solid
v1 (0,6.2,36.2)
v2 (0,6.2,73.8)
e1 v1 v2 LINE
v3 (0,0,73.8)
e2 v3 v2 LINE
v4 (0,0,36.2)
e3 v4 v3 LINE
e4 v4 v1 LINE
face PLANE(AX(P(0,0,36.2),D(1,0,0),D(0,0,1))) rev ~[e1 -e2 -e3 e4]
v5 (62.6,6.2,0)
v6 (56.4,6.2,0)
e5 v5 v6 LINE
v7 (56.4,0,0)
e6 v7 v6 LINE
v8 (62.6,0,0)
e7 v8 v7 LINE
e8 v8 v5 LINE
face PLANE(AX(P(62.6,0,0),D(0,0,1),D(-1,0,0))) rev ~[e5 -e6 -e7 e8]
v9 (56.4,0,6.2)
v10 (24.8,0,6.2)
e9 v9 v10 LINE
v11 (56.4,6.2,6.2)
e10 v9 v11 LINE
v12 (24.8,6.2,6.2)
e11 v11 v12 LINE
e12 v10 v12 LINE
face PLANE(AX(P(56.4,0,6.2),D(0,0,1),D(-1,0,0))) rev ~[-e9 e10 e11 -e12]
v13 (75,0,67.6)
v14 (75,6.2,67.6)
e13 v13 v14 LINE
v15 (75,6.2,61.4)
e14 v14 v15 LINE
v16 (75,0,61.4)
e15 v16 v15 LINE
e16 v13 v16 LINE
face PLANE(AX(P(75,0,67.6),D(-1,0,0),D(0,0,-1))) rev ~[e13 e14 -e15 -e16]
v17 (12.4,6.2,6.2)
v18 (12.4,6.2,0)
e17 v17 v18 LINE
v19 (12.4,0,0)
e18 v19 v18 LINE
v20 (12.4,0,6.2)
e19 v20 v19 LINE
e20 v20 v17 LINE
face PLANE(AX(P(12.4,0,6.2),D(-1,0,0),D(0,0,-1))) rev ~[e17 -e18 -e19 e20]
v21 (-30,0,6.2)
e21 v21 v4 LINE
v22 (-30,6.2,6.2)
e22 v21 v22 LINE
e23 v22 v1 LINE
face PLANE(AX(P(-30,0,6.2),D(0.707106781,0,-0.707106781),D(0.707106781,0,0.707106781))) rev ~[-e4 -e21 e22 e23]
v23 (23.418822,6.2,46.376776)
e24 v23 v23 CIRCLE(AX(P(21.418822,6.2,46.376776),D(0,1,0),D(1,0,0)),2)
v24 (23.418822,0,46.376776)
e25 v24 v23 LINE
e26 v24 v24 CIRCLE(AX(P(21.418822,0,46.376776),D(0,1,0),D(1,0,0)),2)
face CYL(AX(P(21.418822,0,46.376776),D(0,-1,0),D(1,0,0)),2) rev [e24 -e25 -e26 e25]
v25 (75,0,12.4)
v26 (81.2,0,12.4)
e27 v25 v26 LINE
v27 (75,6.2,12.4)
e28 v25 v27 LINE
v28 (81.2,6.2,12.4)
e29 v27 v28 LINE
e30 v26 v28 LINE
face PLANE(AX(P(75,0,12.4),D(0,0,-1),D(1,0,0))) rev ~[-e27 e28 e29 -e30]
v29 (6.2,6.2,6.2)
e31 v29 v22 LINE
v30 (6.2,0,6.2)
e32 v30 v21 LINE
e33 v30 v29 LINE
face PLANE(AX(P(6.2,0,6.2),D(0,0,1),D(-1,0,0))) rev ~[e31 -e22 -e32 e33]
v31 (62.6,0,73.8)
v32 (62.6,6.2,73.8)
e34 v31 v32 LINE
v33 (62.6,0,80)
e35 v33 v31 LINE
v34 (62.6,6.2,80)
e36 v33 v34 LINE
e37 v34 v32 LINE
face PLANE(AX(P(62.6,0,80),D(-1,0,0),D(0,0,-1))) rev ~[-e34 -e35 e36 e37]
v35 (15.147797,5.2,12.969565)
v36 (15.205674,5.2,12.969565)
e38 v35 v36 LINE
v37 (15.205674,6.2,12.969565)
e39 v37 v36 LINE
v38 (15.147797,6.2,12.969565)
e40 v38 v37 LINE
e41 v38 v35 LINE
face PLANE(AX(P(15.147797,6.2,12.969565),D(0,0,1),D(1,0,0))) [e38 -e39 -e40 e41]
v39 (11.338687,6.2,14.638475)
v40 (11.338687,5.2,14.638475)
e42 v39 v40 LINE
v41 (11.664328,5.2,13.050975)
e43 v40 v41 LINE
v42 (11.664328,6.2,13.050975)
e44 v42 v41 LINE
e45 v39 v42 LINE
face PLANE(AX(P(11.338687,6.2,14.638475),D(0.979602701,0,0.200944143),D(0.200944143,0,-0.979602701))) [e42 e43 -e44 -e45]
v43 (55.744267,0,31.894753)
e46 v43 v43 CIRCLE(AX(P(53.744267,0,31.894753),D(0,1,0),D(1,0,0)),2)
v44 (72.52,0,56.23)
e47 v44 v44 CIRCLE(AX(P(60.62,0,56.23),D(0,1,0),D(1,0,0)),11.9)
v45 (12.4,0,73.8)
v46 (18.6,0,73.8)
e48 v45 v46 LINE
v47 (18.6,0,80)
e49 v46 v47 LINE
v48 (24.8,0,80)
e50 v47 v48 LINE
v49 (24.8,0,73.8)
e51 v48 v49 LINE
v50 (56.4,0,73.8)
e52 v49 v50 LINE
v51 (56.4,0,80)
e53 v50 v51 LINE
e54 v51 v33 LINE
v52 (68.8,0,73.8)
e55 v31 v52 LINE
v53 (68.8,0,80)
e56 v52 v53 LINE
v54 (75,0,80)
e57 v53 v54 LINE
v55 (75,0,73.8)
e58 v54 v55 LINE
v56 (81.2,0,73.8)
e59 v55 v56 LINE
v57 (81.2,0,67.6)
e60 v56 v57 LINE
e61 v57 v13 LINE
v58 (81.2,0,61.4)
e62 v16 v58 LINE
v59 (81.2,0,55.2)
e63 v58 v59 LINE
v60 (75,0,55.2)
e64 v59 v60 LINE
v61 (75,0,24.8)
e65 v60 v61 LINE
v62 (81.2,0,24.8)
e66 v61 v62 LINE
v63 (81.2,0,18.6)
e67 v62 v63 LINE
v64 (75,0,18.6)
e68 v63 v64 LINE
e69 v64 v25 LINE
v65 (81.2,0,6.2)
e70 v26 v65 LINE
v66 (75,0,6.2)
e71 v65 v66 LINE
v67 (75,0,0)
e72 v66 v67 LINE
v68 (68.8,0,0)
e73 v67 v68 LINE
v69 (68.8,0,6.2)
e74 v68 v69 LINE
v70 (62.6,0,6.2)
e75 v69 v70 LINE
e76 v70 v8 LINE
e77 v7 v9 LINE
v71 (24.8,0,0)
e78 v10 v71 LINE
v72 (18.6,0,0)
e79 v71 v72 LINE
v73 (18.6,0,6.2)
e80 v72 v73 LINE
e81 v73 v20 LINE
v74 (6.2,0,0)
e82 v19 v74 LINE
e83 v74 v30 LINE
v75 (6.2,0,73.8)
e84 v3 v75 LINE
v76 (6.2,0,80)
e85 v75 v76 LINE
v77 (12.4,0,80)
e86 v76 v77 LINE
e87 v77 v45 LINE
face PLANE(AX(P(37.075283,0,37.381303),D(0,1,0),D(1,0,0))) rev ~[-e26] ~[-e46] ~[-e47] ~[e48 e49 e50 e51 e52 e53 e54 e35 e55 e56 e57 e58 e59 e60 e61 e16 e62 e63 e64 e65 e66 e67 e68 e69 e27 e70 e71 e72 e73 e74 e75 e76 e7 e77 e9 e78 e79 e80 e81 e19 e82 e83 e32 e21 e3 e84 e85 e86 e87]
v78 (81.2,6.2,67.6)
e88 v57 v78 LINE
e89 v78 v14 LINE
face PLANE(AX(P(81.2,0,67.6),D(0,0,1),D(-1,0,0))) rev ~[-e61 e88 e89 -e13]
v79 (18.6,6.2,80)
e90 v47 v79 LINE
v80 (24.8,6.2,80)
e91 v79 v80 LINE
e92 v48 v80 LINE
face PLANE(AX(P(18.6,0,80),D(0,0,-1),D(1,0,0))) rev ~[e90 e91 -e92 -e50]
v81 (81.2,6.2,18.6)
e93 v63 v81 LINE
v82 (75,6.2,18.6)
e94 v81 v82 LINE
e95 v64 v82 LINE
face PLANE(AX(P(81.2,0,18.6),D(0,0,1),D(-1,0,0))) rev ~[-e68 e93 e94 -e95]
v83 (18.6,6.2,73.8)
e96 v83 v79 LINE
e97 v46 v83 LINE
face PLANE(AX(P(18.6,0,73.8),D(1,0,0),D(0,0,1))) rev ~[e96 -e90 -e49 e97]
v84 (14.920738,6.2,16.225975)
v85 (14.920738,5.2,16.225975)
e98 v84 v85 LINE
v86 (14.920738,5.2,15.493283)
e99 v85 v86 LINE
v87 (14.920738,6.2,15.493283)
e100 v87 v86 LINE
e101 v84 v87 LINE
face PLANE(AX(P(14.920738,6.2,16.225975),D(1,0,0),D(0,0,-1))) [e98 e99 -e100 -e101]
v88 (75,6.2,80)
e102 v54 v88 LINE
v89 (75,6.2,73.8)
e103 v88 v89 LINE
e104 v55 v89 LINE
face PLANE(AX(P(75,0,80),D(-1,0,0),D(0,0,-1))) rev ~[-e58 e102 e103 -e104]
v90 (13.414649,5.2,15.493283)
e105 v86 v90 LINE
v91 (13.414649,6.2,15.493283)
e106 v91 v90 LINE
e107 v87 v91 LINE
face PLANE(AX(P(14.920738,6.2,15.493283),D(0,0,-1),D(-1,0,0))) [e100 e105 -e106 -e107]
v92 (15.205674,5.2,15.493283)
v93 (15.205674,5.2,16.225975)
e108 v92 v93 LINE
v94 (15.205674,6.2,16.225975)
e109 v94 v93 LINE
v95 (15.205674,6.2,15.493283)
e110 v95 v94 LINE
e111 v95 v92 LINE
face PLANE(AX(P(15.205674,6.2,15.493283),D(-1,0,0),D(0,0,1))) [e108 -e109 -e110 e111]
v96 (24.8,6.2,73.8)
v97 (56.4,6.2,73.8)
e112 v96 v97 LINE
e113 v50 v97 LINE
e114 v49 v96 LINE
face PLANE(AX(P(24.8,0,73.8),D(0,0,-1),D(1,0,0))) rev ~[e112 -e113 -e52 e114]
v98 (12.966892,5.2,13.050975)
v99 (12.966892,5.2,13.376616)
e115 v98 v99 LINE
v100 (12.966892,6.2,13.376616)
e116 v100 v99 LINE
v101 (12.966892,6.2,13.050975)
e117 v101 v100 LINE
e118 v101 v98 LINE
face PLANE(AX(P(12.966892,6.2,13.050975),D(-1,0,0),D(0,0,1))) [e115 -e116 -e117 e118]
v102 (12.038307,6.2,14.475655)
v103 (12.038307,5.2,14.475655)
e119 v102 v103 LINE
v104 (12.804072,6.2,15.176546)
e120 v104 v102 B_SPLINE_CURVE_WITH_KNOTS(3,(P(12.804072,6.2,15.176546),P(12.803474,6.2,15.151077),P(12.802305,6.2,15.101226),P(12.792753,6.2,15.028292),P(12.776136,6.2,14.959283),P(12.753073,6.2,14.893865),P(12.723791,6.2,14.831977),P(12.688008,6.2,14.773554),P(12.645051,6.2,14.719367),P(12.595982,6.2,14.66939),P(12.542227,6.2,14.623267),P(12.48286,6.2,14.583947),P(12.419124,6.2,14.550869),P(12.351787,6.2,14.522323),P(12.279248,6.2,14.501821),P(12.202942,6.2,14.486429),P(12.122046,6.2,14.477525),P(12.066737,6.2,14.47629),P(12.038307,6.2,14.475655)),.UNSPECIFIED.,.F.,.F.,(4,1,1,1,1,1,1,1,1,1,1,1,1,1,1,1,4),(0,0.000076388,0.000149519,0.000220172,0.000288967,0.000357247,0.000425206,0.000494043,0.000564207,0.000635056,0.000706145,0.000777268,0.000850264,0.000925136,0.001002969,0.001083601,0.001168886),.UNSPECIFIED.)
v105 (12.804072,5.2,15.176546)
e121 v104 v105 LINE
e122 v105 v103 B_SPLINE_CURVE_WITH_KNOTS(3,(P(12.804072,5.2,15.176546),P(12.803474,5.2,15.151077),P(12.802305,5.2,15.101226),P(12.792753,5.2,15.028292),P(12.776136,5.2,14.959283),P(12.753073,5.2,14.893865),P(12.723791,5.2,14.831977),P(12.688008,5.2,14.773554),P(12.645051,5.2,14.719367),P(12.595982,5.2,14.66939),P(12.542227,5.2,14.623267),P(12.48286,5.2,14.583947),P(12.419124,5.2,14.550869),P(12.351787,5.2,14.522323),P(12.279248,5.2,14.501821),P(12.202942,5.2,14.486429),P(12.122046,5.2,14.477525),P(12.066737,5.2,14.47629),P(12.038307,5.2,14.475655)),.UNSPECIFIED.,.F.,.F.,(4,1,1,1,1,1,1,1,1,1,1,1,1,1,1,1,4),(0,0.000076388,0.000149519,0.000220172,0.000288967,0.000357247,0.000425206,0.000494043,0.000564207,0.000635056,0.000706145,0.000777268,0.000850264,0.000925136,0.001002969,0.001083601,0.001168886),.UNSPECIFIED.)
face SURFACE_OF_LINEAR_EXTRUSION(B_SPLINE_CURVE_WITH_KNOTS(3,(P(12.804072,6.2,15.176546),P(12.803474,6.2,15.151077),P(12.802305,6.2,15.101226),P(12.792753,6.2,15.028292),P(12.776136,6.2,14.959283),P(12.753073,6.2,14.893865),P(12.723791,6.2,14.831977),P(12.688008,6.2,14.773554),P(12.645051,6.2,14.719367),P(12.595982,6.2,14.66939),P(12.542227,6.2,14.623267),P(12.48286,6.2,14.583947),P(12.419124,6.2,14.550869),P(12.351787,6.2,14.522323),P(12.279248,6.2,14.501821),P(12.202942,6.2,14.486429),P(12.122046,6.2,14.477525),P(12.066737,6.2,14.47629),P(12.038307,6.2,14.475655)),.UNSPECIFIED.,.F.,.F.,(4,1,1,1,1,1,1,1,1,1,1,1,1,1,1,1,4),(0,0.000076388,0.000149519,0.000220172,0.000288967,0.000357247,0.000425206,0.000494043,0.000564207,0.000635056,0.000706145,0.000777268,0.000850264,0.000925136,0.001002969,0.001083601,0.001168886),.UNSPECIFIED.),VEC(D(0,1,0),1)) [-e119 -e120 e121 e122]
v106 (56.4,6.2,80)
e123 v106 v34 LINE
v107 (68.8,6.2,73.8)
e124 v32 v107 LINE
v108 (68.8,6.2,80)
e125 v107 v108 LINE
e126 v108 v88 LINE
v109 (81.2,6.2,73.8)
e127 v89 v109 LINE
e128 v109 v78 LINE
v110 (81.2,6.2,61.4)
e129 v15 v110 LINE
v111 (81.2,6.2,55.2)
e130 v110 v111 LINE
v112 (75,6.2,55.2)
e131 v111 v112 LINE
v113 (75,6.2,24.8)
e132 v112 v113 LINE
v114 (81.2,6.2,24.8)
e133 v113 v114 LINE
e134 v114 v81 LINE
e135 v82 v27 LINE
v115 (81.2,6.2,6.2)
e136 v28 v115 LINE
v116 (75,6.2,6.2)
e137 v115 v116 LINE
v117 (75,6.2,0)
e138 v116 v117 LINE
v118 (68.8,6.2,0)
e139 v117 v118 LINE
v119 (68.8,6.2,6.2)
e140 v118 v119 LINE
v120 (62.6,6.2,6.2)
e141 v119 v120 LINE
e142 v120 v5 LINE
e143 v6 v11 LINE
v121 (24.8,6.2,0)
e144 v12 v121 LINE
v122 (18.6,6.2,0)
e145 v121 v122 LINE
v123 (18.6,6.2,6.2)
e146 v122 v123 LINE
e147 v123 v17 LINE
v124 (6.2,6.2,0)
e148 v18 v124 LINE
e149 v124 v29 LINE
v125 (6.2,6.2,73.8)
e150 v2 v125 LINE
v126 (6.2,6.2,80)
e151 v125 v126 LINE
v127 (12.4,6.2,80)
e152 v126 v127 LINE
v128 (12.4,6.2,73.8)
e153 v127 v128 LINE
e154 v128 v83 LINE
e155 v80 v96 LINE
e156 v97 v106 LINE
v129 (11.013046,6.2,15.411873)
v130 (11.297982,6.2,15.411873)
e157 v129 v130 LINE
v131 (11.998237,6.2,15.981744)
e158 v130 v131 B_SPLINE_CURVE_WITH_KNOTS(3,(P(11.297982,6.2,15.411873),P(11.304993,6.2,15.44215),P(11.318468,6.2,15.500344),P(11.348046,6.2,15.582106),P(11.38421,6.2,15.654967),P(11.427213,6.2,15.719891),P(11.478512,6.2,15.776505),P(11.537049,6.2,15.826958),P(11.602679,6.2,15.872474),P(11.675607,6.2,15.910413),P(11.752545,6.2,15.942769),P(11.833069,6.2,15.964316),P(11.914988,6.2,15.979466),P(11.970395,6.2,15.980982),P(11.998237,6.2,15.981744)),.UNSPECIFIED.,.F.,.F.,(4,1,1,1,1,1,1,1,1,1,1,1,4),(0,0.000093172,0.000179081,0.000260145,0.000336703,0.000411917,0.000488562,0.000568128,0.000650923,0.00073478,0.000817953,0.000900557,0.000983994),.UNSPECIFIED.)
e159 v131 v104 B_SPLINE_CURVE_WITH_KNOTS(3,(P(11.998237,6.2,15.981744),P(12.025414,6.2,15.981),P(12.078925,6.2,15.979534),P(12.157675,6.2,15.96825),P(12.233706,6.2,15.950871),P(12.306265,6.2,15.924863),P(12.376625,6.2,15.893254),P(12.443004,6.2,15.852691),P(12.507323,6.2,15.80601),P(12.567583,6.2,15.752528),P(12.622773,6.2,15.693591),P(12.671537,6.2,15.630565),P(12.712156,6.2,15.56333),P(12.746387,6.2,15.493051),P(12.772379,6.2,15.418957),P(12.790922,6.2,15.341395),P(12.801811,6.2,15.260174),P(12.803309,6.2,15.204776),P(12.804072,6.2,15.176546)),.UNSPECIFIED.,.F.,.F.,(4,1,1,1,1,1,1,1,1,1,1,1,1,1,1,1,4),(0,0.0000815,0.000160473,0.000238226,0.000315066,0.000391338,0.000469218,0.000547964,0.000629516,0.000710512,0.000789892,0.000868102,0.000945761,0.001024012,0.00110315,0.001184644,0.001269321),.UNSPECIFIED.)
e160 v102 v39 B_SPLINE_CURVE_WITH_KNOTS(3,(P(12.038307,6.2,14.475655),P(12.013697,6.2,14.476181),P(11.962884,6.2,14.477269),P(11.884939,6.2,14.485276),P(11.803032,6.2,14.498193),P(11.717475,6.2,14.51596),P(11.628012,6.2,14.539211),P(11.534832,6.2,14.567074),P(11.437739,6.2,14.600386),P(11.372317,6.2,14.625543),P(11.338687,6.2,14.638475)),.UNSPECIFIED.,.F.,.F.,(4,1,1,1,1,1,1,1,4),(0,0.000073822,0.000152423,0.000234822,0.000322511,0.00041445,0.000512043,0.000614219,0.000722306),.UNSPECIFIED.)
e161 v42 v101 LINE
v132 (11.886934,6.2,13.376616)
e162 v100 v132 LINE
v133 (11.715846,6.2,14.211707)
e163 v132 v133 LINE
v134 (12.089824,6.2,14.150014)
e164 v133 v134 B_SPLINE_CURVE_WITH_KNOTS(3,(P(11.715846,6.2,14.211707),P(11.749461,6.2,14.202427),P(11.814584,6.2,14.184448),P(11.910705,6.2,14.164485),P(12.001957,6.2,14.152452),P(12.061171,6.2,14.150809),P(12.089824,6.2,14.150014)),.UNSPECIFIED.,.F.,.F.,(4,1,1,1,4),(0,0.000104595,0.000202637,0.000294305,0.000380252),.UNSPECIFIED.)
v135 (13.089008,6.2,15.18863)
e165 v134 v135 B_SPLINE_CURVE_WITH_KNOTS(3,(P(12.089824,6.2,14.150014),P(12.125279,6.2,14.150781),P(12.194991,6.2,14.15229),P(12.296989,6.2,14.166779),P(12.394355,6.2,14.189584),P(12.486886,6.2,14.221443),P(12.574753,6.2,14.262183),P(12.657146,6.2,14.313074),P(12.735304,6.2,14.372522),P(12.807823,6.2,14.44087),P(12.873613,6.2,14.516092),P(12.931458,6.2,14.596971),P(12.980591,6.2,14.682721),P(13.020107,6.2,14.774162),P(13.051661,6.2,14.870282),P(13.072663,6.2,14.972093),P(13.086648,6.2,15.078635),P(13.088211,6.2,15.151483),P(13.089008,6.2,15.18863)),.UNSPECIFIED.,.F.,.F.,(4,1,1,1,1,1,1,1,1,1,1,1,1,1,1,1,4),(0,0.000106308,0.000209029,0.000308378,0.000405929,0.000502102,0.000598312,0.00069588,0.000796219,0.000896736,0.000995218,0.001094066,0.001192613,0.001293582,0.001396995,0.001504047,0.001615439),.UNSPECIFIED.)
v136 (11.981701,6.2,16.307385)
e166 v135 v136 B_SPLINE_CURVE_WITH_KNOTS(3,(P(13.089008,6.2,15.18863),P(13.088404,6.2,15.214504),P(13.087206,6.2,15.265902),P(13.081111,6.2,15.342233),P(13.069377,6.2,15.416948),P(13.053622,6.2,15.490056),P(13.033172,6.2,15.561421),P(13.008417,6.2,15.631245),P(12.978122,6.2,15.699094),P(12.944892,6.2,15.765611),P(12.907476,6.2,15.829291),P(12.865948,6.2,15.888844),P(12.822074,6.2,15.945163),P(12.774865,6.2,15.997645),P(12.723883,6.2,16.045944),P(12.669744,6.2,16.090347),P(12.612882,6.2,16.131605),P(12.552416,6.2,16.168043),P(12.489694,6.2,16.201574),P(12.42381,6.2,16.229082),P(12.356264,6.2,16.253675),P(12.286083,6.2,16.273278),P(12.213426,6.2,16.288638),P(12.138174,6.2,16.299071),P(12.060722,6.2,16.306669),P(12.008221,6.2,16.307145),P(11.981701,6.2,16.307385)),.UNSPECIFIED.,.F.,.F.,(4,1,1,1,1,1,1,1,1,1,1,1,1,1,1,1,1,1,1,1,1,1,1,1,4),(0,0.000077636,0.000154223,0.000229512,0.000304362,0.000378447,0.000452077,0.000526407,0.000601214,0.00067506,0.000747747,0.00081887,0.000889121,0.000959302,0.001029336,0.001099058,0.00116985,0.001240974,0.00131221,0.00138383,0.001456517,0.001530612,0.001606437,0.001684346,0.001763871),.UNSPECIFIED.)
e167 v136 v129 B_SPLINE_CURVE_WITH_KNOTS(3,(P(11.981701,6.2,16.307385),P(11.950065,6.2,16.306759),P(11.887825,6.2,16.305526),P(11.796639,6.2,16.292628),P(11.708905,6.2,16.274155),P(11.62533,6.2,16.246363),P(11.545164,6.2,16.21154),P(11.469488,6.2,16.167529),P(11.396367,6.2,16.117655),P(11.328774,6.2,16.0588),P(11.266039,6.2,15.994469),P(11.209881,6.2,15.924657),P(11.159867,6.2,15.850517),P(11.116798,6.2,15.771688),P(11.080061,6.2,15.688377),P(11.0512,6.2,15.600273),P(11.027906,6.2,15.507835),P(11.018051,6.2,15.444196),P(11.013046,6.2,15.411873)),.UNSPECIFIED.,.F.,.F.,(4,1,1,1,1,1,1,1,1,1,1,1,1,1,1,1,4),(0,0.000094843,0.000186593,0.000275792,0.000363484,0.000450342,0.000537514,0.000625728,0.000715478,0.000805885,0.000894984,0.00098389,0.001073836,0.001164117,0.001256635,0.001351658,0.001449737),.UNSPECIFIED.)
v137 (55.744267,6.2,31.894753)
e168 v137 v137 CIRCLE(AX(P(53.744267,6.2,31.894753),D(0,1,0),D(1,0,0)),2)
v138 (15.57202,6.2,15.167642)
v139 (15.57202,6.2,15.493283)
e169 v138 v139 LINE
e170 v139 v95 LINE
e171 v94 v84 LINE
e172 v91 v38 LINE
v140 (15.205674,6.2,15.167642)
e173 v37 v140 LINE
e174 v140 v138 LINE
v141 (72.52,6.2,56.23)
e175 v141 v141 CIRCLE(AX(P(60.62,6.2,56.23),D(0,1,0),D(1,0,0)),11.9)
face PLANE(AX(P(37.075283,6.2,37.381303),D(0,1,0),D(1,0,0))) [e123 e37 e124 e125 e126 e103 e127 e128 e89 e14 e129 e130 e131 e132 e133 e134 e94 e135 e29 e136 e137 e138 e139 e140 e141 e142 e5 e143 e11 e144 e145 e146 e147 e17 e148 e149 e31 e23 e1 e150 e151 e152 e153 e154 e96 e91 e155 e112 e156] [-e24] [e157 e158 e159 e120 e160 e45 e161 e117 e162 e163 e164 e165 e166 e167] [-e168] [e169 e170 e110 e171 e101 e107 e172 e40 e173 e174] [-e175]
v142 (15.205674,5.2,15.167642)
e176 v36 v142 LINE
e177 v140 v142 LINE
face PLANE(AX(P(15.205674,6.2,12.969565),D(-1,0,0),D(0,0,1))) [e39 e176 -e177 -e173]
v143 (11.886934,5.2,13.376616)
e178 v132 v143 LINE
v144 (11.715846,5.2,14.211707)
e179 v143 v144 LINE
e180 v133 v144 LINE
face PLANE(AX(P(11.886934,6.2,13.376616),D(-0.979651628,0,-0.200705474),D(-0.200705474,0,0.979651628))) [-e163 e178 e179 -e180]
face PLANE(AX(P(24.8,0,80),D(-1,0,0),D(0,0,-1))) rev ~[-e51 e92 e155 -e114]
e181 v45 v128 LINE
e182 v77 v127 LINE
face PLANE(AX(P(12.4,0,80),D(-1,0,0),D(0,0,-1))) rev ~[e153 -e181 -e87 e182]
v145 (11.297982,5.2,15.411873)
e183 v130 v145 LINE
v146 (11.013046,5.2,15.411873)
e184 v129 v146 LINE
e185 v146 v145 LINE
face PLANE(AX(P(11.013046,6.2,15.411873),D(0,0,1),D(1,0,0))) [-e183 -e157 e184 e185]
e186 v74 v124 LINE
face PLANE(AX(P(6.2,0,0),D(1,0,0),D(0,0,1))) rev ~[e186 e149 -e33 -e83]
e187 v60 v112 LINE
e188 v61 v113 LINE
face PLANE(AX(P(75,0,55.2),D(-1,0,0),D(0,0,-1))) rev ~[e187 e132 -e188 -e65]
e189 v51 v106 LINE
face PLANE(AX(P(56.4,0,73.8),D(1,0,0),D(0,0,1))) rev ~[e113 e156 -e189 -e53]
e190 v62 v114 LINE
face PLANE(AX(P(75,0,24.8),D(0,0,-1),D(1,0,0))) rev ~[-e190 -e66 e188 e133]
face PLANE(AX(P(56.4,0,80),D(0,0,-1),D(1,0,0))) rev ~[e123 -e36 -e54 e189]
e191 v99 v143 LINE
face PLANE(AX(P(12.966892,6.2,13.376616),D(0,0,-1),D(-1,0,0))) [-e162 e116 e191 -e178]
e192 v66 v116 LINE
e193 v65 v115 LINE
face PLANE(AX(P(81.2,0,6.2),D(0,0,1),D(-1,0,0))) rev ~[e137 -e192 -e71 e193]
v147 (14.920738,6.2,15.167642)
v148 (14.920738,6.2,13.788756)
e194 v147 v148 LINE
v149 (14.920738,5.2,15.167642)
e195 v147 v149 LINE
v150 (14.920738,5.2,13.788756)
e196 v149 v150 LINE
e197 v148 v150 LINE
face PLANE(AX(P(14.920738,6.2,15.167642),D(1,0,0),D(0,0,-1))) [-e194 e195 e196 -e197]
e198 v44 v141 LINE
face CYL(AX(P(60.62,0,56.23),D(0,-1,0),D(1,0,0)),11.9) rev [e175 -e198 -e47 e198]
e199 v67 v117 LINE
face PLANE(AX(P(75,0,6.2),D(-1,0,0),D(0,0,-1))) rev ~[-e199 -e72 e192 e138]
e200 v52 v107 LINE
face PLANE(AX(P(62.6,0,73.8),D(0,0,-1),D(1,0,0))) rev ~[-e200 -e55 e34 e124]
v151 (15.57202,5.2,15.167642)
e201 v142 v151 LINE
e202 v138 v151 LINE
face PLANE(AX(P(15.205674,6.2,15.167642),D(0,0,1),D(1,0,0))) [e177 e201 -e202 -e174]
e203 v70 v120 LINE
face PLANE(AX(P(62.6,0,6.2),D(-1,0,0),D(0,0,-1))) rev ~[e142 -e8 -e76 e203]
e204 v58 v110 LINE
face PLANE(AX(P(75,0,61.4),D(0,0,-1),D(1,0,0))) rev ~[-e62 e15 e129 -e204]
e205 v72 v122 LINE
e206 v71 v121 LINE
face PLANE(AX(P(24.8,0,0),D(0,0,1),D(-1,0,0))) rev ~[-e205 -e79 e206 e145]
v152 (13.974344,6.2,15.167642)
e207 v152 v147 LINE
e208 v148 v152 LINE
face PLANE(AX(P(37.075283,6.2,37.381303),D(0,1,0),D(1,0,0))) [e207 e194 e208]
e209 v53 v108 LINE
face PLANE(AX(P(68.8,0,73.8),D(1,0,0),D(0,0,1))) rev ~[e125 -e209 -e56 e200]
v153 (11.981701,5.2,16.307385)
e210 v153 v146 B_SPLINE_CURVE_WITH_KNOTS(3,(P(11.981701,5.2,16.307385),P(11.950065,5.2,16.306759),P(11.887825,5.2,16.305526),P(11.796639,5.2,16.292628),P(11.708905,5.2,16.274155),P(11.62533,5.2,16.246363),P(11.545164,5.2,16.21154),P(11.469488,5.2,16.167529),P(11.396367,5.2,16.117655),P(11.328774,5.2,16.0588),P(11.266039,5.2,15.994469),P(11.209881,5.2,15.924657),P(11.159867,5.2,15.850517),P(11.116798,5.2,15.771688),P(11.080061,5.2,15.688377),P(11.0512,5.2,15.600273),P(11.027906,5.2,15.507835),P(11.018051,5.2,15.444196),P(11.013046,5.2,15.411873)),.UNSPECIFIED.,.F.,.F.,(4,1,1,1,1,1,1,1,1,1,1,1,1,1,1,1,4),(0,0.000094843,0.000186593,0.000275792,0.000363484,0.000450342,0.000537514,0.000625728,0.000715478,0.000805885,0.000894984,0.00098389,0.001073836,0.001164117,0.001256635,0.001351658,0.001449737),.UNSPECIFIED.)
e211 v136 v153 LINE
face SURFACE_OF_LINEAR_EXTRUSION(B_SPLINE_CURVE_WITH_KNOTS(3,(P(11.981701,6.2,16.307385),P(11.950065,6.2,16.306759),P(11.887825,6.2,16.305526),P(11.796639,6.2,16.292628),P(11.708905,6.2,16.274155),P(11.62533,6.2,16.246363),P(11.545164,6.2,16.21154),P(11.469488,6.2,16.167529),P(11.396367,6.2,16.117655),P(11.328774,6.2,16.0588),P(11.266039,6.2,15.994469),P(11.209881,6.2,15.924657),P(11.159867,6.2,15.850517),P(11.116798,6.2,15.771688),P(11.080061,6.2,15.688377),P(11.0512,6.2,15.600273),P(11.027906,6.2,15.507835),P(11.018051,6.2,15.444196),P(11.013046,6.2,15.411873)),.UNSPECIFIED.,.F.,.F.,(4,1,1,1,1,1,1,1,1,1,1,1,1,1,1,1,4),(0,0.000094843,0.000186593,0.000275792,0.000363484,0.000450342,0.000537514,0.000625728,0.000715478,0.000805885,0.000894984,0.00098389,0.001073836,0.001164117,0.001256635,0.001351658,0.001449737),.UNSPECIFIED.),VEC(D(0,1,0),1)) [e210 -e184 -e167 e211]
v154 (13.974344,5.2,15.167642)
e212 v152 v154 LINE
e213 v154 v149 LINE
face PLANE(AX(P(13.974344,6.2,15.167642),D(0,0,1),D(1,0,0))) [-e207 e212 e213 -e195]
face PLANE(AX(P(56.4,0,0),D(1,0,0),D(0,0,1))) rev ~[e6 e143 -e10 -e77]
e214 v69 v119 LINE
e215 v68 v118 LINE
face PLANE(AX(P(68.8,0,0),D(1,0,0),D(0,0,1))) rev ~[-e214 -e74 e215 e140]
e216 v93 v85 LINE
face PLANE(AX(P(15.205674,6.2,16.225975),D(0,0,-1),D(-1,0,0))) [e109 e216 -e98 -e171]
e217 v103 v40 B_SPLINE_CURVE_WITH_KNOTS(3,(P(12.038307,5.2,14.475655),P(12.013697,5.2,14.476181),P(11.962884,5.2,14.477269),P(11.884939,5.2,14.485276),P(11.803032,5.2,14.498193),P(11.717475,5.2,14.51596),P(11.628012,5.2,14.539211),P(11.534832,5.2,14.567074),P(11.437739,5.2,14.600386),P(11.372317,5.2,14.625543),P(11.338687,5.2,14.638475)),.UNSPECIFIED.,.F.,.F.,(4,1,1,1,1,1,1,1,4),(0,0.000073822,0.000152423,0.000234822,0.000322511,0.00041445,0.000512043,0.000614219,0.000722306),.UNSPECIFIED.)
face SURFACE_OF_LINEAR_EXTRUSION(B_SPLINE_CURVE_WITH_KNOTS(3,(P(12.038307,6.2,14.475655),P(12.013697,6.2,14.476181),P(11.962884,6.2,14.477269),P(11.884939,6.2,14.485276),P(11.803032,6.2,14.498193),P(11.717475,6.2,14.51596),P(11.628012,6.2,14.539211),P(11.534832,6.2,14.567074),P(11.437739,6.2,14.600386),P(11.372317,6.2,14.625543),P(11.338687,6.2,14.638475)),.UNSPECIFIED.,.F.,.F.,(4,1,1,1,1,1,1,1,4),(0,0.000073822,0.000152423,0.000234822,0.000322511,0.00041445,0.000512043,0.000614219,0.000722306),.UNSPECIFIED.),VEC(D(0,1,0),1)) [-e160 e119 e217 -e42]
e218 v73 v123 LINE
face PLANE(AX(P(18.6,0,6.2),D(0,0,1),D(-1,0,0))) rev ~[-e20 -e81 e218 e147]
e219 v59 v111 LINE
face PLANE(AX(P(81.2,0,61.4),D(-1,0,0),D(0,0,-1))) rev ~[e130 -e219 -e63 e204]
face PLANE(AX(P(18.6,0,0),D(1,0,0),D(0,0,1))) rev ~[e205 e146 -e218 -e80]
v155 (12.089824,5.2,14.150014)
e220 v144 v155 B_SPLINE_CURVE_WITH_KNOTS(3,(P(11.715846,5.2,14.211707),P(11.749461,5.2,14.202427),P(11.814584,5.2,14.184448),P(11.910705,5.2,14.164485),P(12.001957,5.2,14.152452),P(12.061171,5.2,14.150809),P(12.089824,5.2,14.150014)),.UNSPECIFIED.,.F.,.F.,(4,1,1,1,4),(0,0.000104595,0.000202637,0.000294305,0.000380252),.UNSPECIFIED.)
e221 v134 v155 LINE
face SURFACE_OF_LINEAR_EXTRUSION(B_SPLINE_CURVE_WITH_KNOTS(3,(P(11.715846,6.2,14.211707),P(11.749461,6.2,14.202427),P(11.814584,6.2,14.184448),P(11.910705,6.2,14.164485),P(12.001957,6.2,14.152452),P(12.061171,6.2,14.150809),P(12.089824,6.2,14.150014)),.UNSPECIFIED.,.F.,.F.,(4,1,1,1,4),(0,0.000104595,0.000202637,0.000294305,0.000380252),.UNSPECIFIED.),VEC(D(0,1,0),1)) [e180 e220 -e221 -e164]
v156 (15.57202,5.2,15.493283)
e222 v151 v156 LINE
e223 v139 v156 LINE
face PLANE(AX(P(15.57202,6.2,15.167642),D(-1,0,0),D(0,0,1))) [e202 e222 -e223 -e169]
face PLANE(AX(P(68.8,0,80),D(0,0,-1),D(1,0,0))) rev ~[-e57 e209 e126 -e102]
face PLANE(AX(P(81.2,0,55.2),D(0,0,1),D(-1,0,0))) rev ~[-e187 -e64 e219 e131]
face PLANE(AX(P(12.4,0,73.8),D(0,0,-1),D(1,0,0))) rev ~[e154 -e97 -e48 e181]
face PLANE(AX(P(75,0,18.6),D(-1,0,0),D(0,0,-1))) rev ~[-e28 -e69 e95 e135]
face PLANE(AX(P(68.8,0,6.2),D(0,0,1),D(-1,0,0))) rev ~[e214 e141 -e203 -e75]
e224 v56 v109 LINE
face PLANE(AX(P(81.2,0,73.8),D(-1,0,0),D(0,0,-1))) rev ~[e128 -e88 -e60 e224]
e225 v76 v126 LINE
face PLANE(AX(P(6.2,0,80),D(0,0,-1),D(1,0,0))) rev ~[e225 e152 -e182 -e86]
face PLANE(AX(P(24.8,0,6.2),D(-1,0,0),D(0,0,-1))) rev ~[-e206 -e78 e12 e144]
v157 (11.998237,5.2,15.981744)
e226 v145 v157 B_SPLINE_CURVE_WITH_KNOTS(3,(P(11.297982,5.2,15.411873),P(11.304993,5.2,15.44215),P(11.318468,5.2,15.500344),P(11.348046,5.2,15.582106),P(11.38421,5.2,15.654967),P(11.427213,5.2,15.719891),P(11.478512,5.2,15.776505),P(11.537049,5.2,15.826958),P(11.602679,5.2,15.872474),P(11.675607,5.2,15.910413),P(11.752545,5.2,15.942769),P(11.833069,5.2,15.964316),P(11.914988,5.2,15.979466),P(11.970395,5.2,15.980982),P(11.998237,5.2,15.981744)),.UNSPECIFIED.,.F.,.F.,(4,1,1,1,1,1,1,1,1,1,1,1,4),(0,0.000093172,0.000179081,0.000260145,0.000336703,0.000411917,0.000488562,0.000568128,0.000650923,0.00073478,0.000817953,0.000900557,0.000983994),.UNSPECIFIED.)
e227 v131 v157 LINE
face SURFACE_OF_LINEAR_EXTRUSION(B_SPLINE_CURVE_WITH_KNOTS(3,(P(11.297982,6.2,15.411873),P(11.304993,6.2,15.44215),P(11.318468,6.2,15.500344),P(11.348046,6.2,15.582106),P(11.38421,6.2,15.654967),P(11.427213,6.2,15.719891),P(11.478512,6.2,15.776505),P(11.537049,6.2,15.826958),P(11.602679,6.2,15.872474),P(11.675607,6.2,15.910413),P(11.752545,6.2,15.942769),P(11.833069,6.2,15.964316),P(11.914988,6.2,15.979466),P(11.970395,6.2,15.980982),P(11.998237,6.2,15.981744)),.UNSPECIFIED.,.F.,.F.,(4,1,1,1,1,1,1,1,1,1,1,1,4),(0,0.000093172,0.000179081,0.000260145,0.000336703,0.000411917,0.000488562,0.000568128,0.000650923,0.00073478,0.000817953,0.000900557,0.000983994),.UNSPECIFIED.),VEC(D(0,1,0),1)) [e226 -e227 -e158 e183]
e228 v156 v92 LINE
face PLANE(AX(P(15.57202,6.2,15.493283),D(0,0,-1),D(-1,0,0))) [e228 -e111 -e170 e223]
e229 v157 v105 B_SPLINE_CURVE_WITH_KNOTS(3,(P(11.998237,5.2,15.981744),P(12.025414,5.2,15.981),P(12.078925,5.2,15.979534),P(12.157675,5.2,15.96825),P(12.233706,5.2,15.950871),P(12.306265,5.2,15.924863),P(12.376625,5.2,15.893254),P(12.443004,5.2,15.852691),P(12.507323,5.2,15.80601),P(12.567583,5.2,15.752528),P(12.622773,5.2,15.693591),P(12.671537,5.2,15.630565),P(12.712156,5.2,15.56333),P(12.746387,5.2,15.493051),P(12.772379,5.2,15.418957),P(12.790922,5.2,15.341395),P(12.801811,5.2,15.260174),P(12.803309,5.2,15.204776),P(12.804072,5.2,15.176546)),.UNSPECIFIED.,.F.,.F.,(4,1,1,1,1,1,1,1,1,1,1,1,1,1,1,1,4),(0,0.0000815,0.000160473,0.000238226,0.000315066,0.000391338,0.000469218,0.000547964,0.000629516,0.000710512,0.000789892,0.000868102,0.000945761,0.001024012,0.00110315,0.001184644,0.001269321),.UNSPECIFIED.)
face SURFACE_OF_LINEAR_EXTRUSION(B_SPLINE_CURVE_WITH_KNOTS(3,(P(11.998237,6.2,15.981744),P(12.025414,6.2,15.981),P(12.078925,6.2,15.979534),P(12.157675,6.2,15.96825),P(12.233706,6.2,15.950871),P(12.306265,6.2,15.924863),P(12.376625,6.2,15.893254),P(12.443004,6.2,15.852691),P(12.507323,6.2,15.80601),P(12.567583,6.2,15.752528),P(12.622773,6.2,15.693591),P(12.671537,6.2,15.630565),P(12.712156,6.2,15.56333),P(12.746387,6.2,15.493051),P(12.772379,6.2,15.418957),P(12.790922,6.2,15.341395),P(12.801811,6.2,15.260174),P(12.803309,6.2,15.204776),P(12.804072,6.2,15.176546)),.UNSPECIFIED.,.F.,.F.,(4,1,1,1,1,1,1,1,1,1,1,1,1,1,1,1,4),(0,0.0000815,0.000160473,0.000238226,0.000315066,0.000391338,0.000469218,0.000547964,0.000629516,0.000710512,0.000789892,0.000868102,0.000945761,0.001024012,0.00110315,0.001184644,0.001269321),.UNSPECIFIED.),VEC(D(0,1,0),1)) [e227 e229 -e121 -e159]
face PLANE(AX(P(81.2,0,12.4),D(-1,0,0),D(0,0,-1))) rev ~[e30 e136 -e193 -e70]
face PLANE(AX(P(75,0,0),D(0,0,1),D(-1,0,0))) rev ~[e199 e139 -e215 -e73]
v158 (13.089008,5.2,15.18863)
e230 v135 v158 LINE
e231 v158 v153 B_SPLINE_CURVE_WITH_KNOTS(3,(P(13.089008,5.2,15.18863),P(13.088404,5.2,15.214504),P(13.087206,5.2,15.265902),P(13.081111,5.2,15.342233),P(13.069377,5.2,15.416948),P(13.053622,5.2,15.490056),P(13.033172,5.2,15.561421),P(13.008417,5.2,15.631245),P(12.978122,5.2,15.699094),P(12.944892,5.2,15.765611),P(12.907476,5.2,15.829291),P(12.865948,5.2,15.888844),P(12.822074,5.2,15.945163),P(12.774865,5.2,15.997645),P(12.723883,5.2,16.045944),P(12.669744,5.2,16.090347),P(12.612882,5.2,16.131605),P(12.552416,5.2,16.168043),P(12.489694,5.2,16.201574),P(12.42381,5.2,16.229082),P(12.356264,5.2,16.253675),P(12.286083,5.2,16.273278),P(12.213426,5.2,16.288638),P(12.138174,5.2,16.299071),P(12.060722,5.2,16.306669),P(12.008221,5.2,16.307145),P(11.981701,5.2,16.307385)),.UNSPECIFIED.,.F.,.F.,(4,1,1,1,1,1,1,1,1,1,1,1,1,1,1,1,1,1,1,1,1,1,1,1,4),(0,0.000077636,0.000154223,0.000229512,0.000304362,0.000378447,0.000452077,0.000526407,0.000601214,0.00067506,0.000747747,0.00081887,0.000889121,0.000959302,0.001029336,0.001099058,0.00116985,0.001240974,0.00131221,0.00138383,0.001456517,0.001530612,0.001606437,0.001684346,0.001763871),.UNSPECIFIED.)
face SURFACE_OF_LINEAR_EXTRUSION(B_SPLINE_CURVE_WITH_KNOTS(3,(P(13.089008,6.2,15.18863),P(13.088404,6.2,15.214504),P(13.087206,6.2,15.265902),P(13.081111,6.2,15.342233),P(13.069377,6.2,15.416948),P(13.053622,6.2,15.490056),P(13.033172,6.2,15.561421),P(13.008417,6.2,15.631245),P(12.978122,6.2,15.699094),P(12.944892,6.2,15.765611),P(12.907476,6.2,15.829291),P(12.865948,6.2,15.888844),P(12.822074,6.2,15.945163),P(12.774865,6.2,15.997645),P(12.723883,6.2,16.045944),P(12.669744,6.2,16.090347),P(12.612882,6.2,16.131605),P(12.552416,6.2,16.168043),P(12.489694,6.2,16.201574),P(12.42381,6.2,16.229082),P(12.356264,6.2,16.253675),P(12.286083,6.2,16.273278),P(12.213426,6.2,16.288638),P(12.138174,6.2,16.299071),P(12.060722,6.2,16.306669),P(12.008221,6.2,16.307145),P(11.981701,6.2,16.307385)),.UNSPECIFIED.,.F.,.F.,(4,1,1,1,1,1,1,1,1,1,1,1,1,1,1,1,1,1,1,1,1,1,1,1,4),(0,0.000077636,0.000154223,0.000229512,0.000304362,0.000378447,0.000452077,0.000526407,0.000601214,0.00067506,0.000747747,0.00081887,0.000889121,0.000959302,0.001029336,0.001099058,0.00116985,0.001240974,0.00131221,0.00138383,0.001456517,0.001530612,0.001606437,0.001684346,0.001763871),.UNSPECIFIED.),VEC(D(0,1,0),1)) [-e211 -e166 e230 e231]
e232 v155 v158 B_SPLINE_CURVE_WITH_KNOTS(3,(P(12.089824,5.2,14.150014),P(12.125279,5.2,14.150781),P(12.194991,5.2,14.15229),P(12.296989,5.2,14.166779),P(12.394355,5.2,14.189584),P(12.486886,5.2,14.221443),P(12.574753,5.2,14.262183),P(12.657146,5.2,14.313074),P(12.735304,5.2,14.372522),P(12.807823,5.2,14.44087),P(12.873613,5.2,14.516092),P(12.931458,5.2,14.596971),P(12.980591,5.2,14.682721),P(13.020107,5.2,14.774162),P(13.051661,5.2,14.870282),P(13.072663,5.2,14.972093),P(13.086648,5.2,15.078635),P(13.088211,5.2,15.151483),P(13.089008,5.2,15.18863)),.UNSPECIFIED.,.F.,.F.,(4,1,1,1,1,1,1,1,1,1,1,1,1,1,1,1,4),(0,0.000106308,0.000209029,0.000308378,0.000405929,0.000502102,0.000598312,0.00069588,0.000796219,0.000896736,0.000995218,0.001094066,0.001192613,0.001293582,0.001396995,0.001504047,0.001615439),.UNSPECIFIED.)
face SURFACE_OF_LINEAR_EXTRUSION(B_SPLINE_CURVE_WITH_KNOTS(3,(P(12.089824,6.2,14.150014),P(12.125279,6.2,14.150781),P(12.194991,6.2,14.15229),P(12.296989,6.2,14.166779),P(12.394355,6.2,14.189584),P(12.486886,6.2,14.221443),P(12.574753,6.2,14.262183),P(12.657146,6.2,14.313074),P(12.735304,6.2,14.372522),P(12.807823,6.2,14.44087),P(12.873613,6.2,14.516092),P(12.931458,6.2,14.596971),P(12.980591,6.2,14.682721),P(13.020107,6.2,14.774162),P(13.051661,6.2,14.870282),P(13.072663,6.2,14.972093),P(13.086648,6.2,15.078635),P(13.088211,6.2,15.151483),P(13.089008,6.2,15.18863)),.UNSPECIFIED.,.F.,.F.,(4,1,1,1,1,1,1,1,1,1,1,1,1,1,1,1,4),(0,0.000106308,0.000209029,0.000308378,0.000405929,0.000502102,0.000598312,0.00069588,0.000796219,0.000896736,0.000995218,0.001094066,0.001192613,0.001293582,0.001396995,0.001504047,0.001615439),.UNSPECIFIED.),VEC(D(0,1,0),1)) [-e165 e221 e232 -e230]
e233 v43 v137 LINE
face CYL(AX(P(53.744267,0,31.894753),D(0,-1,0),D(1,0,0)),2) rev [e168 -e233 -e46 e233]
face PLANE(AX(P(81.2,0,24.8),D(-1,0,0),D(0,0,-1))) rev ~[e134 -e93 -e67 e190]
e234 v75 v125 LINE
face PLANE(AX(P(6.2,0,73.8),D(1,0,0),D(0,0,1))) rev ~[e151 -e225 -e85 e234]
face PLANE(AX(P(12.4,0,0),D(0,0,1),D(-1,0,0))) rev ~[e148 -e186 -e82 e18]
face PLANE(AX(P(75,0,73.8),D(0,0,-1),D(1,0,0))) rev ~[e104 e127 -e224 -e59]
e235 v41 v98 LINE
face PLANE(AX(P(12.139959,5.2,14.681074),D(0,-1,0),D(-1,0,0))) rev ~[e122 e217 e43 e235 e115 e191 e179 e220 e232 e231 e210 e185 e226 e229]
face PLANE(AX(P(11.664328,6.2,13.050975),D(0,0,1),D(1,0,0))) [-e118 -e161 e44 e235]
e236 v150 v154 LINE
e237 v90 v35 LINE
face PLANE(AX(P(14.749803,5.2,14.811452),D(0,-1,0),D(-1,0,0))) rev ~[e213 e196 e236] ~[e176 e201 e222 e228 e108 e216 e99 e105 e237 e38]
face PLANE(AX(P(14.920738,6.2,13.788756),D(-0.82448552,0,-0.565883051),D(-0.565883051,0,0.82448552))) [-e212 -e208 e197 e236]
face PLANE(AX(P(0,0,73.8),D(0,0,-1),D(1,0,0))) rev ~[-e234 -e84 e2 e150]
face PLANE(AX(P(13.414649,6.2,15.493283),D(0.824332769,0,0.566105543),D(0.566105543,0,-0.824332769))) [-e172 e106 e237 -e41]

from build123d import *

# Parameters (mm, degrees)
SKETCH1_R           = 2
SKETCH1_R_2         = 11.9
BOSS_EXTRUDE1_DEPTH = 6.2
CUT_EXTRUDE1_DEPTH  = 1


with BuildPart() as part:
    # Sketch1 → Boss-Extrude1 (new body)
    with BuildSketch(Plane(origin=(0, 0, 0), x_dir=(1, 0, 0), z_dir=(0, 1, 0))):
        Polygon((-30, -6.2), (0, -36.2), (0, -73.8), (6.2, -73.8), (6.2, -80), (12.4, -80), (12.4, -73.8), (18.6, -73.8), (18.6, -80), (24.8, -80), (24.8, -73.8), (56.4, -73.8), (56.4, -80), (62.6, -80), (62.6, -73.8), (68.8, -73.8), (68.8, -80), (75, -80), (75, -73.8), (81.2, -73.8), (81.2, -67.6), (75, -67.6), (75, -61.4), (81.2, -61.4), (81.2, -55.2), (75, -55.2), (75, -24.8), (81.2, -24.8), (81.2, -18.6), (75, -18.6), (75, -12.4), (81.2, -12.4), (81.2, -6.2), (75, -6.2), (75, 0), (68.8, 0), (68.8, -6.2), (62.6, -6.2), (62.6, 0), (56.4, 0), (56.4, -6.2), (24.8, -6.2), (24.8, 0), (18.6, 0), (18.6, -6.2), (12.4, -6.2), (12.4, 0), (6.2, 0), (6.2, -6.2), align=None)
        with Locations((53.744267305, -31.89475279)):
            Circle(SKETCH1_R, mode=Mode.SUBTRACT)
        with Locations((21.41882184, -46.37677641)):
            Circle(SKETCH1_R, mode=Mode.SUBTRACT)
        with Locations((60.62, -56.23)):
            Circle(SKETCH1_R_2, mode=Mode.SUBTRACT)
    extrude(amount=BOSS_EXTRUDE1_DEPTH)

    # Sketch2 → Cut-Extrude1 (cut)
    with BuildSketch(Plane(origin=(0, 6.2, 0), x_dir=(1, 0, 0), z_dir=(0, 1, 0))):
        with BuildLine():
            Line((12.966892289, -13.0509751), (12.966892289, -13.376616125))
            Line((12.966892289, -13.376616125), (11.886934356, -13.376616125))
            Line((11.886934356, -13.376616125), (11.715845614, -14.211707271))
            add(Edge.make_bspline(
                [(11.715845614, -14.211707271), (11.749460586, -14.202426953), (11.814584277, -14.184447805), (11.910705008, -14.164485427), (12.001956507, -14.152451775), (12.061170593, -14.150808657), (12.08982398, -14.150013561)],
                knots=[0, 0, 0, 0, 0.000104595, 0.000202637, 0.000294305, 0.000380252, 0.000380252, 0.000380252, 0.000380252], degree=3))
            add(Edge.make_bspline(
                [(12.08982398, -14.150013561), (12.125278515, -14.150780946), (12.19499099, -14.152289816), (12.296989177, -14.166778565), (12.394355445, -14.189584059), (12.486886166, -14.221443389), (12.574752523, -14.262182933), (12.657146096, -14.313073593), (12.735303632, -14.372521686), (12.807822985, -14.440870376), (12.873612893, -14.516092128), (12.931457755, -14.596971054), (12.980590962, -14.682721147), (13.02010679, -14.7741617), (13.05166115, -14.870281789), (13.072663317, -14.972092774), (13.086648474, -15.078634998), (13.088210925, -15.151482715), (13.089007673, -15.188630348)],
                knots=[0, 0, 0, 0, 0.000106308, 0.000209029, 0.000308378, 0.000405929, 0.000502102, 0.000598312, 0.00069588, 0.000796219, 0.000896736, 0.000995218, 0.001094066, 0.001192613, 0.001293582, 0.001396995, 0.001504047, 0.001615439, 0.001615439, 0.001615439, 0.001615439], degree=3))
            add(Edge.make_bspline(
                [(13.089007673, -15.188630348), (13.088404355, -15.214504077), (13.087205872, -15.265901873), (13.081111153, -15.342232683), (13.069376611, -15.416947539), (13.053621604, -15.490056352), (13.03317241, -15.561420711), (13.00841734, -15.631244882), (12.978122372, -15.699094276), (12.944892482, -15.765610884), (12.907476034, -15.829290958), (12.865948388, -15.888843968), (12.822073978, -15.94516328), (12.774865007, -15.997644881), (12.723882676, -16.045943904), (12.66974442, -16.090346988), (12.612882239, -16.131605052), (12.552416412, -16.168043343), (12.489694303, -16.201574025), (12.423810134, -16.229081805), (12.356263642, -16.253674927), (12.286082647, -16.273277856), (12.213426117, -16.288638102), (12.138174285, -16.299070789), (12.06072182, -16.306669415), (12.008220916, -16.307145081), (11.981700983, -16.307385356)],
                knots=[0, 0, 0, 0, 7.7636e-05, 0.000154223, 0.000229512, 0.000304362, 0.000378447, 0.000452077, 0.000526407, 0.000601214, 0.00067506, 0.000747747, 0.00081887, 0.000889121, 0.000959302, 0.001029336, 0.001099058, 0.00116985, 0.001240974, 0.00131221, 0.00138383, 0.001456517, 0.001530612, 0.001606437, 0.001684346, 0.001763871, 0.001763871, 0.001763871, 0.001763871], degree=3))
            add(Edge.make_bspline(
                [(11.981700983, -16.307385356), (11.950065119, -16.306758667), (11.887825294, -16.305525731), (11.796638779, -16.292627534), (11.708904816, -16.274154553), (11.625329653, -16.246363079), (11.545164292, -16.211540319), (11.469487969, -16.167529221), (11.396367015, -16.11765532), (11.328773953, -16.058799571), (11.266039479, -15.994468916), (11.209881432, -15.924657342), (11.159867401, -15.850517062), (11.116798302, -15.771688023), (11.080060812, -15.688377355), (11.051200072, -15.600272919), (11.027906136, -15.507835058), (11.018051462, -15.444195802), (11.013046135, -15.411872536)],
                knots=[0, 0, 0, 0, 9.4843e-05, 0.000186593, 0.000275792, 0.000363484, 0.000450342, 0.000537514, 0.000625728, 0.000715478, 0.000805885, 0.000894984, 0.00098389, 0.001073836, 0.001164117, 0.001256635, 0.001351658, 0.001449737, 0.001449737, 0.001449737, 0.001449737], degree=3))
            Line((11.013046135, -15.411872536), (11.297982032, -15.411872536))
            add(Edge.make_bspline(
                [(11.297982032, -15.411872536), (11.304992938, -15.442149746), (11.318468288, -15.500344226), (11.34804636, -15.582106228), (11.384210404, -15.654967238), (11.42721292, -15.719891075), (11.478511877, -15.776504951), (11.537049287, -15.826957571), (11.602679007, -15.872473581), (11.675607151, -15.910412806), (11.75254473, -15.942769461), (11.833069271, -15.964315641), (11.914988214, -15.979465737), (11.970395021, -15.980982263), (11.998237441, -15.981744331)],
                knots=[0, 0, 0, 0, 9.3172e-05, 0.000179081, 0.000260145, 0.000336703, 0.000411917, 0.000488562, 0.000568128, 0.000650923, 0.00073478, 0.000817953, 0.000900557, 0.000983994, 0.000983994, 0.000983994, 0.000983994], degree=3))
            add(Edge.make_bspline(
                [(11.998237441, -15.981744331), (12.02541403, -15.980999768), (12.078924956, -15.979533718), (12.157675285, -15.968249757), (12.233705535, -15.950871103), (12.306265495, -15.924863448), (12.376624891, -15.893254311), (12.443003954, -15.852691349), (12.507322993, -15.806009761), (12.5675828, -15.752527675), (12.622772872, -15.693590881), (12.671537353, -15.63056496), (12.71215641, -15.563330392), (12.746386638, -15.493051175), (12.772379273, -15.418957055), (12.790922163, -15.341395275), (12.801810652, -15.260174257), (12.803308508, -15.204775669), (12.804071776, -15.176546013)],
                knots=[0, 0, 0, 0, 8.15e-05, 0.000160473, 0.000238226, 0.000315066, 0.000391338, 0.000469218, 0.000547964, 0.000629516, 0.000710512, 0.000789892, 0.000868102, 0.000945761, 0.001024012, 0.00110315, 0.001184644, 0.001269321, 0.001269321, 0.001269321, 0.001269321], degree=3))
            add(Edge.make_bspline(
                [(12.804071776, -15.176546013), (12.803474441, -15.151077296), (12.802305243, -15.101225905), (12.792752511, -15.028292339), (12.776136401, -14.959283222), (12.75307331, -14.89386531), (12.723791185, -14.831976902), (12.688007744, -14.773554125), (12.645051448, -14.719367005), (12.595982377, -14.669390189), (12.542226869, -14.623266624), (12.482860045, -14.583947345), (12.419124254, -14.550869363), (12.351787403, -14.522323393), (12.279247817, -14.501821288), (12.202942015, -14.486428992), (12.122046001, -14.477525056), (12.066736877, -14.476289629), (12.038306552, -14.475654587)],
                knots=[0, 0, 0, 0, 7.6388e-05, 0.000149519, 0.000220172, 0.000288967, 0.000357247, 0.000425206, 0.000494043, 0.000564207, 0.000635056, 0.000706145, 0.000777268, 0.000850264, 0.000925136, 0.001002969, 0.001083601, 0.001168886, 0.001168886, 0.001168886, 0.001168886], degree=3))
            add(Edge.make_bspline(
                [(12.038306552, -14.475654587), (12.013696738, -14.476181266), (11.962883715, -14.477268725), (11.884939437, -14.485275618), (11.803031945, -14.498192693), (11.717475224, -14.515960217), (11.628012335, -14.539211265), (11.534832071, -14.567073705), (11.437738515, -14.600385804), (11.372317437, -14.625542884), (11.338687161, -14.6384751)],
                knots=[0, 0, 0, 0, 7.3822e-05, 0.000152423, 0.000234822, 0.000322511, 0.00041445, 0.000512043, 0.000614219, 0.000722306, 0.000722306, 0.000722306, 0.000722306], degree=3))
            Line((11.338687161, -14.6384751), (11.664328186, -13.0509751))
            Line((11.664328186, -13.0509751), (12.966892289, -13.0509751))
        make_face()
        Polygon((15.147796736, -12.969564843), (15.20567434, -12.969564843), (15.20567434, -15.167641766), (15.572020494, -15.167641766), (15.572020494, -15.493282792), (15.20567434, -15.493282792), (15.20567434, -16.2259751), (14.920738443, -16.2259751), (14.920738443, -15.493282792), (13.414648699, -15.493282792), align=None)
        Polygon((14.920738443, -15.167641766), (14.920738443, -13.788755549), (13.974344212, -15.167641766), align=None, mode=Mode.SUBTRACT)
    extrude(amount=-CUT_EXTRUDE1_DEPTH, mode=Mode.SUBTRACT)


solid = part.part
